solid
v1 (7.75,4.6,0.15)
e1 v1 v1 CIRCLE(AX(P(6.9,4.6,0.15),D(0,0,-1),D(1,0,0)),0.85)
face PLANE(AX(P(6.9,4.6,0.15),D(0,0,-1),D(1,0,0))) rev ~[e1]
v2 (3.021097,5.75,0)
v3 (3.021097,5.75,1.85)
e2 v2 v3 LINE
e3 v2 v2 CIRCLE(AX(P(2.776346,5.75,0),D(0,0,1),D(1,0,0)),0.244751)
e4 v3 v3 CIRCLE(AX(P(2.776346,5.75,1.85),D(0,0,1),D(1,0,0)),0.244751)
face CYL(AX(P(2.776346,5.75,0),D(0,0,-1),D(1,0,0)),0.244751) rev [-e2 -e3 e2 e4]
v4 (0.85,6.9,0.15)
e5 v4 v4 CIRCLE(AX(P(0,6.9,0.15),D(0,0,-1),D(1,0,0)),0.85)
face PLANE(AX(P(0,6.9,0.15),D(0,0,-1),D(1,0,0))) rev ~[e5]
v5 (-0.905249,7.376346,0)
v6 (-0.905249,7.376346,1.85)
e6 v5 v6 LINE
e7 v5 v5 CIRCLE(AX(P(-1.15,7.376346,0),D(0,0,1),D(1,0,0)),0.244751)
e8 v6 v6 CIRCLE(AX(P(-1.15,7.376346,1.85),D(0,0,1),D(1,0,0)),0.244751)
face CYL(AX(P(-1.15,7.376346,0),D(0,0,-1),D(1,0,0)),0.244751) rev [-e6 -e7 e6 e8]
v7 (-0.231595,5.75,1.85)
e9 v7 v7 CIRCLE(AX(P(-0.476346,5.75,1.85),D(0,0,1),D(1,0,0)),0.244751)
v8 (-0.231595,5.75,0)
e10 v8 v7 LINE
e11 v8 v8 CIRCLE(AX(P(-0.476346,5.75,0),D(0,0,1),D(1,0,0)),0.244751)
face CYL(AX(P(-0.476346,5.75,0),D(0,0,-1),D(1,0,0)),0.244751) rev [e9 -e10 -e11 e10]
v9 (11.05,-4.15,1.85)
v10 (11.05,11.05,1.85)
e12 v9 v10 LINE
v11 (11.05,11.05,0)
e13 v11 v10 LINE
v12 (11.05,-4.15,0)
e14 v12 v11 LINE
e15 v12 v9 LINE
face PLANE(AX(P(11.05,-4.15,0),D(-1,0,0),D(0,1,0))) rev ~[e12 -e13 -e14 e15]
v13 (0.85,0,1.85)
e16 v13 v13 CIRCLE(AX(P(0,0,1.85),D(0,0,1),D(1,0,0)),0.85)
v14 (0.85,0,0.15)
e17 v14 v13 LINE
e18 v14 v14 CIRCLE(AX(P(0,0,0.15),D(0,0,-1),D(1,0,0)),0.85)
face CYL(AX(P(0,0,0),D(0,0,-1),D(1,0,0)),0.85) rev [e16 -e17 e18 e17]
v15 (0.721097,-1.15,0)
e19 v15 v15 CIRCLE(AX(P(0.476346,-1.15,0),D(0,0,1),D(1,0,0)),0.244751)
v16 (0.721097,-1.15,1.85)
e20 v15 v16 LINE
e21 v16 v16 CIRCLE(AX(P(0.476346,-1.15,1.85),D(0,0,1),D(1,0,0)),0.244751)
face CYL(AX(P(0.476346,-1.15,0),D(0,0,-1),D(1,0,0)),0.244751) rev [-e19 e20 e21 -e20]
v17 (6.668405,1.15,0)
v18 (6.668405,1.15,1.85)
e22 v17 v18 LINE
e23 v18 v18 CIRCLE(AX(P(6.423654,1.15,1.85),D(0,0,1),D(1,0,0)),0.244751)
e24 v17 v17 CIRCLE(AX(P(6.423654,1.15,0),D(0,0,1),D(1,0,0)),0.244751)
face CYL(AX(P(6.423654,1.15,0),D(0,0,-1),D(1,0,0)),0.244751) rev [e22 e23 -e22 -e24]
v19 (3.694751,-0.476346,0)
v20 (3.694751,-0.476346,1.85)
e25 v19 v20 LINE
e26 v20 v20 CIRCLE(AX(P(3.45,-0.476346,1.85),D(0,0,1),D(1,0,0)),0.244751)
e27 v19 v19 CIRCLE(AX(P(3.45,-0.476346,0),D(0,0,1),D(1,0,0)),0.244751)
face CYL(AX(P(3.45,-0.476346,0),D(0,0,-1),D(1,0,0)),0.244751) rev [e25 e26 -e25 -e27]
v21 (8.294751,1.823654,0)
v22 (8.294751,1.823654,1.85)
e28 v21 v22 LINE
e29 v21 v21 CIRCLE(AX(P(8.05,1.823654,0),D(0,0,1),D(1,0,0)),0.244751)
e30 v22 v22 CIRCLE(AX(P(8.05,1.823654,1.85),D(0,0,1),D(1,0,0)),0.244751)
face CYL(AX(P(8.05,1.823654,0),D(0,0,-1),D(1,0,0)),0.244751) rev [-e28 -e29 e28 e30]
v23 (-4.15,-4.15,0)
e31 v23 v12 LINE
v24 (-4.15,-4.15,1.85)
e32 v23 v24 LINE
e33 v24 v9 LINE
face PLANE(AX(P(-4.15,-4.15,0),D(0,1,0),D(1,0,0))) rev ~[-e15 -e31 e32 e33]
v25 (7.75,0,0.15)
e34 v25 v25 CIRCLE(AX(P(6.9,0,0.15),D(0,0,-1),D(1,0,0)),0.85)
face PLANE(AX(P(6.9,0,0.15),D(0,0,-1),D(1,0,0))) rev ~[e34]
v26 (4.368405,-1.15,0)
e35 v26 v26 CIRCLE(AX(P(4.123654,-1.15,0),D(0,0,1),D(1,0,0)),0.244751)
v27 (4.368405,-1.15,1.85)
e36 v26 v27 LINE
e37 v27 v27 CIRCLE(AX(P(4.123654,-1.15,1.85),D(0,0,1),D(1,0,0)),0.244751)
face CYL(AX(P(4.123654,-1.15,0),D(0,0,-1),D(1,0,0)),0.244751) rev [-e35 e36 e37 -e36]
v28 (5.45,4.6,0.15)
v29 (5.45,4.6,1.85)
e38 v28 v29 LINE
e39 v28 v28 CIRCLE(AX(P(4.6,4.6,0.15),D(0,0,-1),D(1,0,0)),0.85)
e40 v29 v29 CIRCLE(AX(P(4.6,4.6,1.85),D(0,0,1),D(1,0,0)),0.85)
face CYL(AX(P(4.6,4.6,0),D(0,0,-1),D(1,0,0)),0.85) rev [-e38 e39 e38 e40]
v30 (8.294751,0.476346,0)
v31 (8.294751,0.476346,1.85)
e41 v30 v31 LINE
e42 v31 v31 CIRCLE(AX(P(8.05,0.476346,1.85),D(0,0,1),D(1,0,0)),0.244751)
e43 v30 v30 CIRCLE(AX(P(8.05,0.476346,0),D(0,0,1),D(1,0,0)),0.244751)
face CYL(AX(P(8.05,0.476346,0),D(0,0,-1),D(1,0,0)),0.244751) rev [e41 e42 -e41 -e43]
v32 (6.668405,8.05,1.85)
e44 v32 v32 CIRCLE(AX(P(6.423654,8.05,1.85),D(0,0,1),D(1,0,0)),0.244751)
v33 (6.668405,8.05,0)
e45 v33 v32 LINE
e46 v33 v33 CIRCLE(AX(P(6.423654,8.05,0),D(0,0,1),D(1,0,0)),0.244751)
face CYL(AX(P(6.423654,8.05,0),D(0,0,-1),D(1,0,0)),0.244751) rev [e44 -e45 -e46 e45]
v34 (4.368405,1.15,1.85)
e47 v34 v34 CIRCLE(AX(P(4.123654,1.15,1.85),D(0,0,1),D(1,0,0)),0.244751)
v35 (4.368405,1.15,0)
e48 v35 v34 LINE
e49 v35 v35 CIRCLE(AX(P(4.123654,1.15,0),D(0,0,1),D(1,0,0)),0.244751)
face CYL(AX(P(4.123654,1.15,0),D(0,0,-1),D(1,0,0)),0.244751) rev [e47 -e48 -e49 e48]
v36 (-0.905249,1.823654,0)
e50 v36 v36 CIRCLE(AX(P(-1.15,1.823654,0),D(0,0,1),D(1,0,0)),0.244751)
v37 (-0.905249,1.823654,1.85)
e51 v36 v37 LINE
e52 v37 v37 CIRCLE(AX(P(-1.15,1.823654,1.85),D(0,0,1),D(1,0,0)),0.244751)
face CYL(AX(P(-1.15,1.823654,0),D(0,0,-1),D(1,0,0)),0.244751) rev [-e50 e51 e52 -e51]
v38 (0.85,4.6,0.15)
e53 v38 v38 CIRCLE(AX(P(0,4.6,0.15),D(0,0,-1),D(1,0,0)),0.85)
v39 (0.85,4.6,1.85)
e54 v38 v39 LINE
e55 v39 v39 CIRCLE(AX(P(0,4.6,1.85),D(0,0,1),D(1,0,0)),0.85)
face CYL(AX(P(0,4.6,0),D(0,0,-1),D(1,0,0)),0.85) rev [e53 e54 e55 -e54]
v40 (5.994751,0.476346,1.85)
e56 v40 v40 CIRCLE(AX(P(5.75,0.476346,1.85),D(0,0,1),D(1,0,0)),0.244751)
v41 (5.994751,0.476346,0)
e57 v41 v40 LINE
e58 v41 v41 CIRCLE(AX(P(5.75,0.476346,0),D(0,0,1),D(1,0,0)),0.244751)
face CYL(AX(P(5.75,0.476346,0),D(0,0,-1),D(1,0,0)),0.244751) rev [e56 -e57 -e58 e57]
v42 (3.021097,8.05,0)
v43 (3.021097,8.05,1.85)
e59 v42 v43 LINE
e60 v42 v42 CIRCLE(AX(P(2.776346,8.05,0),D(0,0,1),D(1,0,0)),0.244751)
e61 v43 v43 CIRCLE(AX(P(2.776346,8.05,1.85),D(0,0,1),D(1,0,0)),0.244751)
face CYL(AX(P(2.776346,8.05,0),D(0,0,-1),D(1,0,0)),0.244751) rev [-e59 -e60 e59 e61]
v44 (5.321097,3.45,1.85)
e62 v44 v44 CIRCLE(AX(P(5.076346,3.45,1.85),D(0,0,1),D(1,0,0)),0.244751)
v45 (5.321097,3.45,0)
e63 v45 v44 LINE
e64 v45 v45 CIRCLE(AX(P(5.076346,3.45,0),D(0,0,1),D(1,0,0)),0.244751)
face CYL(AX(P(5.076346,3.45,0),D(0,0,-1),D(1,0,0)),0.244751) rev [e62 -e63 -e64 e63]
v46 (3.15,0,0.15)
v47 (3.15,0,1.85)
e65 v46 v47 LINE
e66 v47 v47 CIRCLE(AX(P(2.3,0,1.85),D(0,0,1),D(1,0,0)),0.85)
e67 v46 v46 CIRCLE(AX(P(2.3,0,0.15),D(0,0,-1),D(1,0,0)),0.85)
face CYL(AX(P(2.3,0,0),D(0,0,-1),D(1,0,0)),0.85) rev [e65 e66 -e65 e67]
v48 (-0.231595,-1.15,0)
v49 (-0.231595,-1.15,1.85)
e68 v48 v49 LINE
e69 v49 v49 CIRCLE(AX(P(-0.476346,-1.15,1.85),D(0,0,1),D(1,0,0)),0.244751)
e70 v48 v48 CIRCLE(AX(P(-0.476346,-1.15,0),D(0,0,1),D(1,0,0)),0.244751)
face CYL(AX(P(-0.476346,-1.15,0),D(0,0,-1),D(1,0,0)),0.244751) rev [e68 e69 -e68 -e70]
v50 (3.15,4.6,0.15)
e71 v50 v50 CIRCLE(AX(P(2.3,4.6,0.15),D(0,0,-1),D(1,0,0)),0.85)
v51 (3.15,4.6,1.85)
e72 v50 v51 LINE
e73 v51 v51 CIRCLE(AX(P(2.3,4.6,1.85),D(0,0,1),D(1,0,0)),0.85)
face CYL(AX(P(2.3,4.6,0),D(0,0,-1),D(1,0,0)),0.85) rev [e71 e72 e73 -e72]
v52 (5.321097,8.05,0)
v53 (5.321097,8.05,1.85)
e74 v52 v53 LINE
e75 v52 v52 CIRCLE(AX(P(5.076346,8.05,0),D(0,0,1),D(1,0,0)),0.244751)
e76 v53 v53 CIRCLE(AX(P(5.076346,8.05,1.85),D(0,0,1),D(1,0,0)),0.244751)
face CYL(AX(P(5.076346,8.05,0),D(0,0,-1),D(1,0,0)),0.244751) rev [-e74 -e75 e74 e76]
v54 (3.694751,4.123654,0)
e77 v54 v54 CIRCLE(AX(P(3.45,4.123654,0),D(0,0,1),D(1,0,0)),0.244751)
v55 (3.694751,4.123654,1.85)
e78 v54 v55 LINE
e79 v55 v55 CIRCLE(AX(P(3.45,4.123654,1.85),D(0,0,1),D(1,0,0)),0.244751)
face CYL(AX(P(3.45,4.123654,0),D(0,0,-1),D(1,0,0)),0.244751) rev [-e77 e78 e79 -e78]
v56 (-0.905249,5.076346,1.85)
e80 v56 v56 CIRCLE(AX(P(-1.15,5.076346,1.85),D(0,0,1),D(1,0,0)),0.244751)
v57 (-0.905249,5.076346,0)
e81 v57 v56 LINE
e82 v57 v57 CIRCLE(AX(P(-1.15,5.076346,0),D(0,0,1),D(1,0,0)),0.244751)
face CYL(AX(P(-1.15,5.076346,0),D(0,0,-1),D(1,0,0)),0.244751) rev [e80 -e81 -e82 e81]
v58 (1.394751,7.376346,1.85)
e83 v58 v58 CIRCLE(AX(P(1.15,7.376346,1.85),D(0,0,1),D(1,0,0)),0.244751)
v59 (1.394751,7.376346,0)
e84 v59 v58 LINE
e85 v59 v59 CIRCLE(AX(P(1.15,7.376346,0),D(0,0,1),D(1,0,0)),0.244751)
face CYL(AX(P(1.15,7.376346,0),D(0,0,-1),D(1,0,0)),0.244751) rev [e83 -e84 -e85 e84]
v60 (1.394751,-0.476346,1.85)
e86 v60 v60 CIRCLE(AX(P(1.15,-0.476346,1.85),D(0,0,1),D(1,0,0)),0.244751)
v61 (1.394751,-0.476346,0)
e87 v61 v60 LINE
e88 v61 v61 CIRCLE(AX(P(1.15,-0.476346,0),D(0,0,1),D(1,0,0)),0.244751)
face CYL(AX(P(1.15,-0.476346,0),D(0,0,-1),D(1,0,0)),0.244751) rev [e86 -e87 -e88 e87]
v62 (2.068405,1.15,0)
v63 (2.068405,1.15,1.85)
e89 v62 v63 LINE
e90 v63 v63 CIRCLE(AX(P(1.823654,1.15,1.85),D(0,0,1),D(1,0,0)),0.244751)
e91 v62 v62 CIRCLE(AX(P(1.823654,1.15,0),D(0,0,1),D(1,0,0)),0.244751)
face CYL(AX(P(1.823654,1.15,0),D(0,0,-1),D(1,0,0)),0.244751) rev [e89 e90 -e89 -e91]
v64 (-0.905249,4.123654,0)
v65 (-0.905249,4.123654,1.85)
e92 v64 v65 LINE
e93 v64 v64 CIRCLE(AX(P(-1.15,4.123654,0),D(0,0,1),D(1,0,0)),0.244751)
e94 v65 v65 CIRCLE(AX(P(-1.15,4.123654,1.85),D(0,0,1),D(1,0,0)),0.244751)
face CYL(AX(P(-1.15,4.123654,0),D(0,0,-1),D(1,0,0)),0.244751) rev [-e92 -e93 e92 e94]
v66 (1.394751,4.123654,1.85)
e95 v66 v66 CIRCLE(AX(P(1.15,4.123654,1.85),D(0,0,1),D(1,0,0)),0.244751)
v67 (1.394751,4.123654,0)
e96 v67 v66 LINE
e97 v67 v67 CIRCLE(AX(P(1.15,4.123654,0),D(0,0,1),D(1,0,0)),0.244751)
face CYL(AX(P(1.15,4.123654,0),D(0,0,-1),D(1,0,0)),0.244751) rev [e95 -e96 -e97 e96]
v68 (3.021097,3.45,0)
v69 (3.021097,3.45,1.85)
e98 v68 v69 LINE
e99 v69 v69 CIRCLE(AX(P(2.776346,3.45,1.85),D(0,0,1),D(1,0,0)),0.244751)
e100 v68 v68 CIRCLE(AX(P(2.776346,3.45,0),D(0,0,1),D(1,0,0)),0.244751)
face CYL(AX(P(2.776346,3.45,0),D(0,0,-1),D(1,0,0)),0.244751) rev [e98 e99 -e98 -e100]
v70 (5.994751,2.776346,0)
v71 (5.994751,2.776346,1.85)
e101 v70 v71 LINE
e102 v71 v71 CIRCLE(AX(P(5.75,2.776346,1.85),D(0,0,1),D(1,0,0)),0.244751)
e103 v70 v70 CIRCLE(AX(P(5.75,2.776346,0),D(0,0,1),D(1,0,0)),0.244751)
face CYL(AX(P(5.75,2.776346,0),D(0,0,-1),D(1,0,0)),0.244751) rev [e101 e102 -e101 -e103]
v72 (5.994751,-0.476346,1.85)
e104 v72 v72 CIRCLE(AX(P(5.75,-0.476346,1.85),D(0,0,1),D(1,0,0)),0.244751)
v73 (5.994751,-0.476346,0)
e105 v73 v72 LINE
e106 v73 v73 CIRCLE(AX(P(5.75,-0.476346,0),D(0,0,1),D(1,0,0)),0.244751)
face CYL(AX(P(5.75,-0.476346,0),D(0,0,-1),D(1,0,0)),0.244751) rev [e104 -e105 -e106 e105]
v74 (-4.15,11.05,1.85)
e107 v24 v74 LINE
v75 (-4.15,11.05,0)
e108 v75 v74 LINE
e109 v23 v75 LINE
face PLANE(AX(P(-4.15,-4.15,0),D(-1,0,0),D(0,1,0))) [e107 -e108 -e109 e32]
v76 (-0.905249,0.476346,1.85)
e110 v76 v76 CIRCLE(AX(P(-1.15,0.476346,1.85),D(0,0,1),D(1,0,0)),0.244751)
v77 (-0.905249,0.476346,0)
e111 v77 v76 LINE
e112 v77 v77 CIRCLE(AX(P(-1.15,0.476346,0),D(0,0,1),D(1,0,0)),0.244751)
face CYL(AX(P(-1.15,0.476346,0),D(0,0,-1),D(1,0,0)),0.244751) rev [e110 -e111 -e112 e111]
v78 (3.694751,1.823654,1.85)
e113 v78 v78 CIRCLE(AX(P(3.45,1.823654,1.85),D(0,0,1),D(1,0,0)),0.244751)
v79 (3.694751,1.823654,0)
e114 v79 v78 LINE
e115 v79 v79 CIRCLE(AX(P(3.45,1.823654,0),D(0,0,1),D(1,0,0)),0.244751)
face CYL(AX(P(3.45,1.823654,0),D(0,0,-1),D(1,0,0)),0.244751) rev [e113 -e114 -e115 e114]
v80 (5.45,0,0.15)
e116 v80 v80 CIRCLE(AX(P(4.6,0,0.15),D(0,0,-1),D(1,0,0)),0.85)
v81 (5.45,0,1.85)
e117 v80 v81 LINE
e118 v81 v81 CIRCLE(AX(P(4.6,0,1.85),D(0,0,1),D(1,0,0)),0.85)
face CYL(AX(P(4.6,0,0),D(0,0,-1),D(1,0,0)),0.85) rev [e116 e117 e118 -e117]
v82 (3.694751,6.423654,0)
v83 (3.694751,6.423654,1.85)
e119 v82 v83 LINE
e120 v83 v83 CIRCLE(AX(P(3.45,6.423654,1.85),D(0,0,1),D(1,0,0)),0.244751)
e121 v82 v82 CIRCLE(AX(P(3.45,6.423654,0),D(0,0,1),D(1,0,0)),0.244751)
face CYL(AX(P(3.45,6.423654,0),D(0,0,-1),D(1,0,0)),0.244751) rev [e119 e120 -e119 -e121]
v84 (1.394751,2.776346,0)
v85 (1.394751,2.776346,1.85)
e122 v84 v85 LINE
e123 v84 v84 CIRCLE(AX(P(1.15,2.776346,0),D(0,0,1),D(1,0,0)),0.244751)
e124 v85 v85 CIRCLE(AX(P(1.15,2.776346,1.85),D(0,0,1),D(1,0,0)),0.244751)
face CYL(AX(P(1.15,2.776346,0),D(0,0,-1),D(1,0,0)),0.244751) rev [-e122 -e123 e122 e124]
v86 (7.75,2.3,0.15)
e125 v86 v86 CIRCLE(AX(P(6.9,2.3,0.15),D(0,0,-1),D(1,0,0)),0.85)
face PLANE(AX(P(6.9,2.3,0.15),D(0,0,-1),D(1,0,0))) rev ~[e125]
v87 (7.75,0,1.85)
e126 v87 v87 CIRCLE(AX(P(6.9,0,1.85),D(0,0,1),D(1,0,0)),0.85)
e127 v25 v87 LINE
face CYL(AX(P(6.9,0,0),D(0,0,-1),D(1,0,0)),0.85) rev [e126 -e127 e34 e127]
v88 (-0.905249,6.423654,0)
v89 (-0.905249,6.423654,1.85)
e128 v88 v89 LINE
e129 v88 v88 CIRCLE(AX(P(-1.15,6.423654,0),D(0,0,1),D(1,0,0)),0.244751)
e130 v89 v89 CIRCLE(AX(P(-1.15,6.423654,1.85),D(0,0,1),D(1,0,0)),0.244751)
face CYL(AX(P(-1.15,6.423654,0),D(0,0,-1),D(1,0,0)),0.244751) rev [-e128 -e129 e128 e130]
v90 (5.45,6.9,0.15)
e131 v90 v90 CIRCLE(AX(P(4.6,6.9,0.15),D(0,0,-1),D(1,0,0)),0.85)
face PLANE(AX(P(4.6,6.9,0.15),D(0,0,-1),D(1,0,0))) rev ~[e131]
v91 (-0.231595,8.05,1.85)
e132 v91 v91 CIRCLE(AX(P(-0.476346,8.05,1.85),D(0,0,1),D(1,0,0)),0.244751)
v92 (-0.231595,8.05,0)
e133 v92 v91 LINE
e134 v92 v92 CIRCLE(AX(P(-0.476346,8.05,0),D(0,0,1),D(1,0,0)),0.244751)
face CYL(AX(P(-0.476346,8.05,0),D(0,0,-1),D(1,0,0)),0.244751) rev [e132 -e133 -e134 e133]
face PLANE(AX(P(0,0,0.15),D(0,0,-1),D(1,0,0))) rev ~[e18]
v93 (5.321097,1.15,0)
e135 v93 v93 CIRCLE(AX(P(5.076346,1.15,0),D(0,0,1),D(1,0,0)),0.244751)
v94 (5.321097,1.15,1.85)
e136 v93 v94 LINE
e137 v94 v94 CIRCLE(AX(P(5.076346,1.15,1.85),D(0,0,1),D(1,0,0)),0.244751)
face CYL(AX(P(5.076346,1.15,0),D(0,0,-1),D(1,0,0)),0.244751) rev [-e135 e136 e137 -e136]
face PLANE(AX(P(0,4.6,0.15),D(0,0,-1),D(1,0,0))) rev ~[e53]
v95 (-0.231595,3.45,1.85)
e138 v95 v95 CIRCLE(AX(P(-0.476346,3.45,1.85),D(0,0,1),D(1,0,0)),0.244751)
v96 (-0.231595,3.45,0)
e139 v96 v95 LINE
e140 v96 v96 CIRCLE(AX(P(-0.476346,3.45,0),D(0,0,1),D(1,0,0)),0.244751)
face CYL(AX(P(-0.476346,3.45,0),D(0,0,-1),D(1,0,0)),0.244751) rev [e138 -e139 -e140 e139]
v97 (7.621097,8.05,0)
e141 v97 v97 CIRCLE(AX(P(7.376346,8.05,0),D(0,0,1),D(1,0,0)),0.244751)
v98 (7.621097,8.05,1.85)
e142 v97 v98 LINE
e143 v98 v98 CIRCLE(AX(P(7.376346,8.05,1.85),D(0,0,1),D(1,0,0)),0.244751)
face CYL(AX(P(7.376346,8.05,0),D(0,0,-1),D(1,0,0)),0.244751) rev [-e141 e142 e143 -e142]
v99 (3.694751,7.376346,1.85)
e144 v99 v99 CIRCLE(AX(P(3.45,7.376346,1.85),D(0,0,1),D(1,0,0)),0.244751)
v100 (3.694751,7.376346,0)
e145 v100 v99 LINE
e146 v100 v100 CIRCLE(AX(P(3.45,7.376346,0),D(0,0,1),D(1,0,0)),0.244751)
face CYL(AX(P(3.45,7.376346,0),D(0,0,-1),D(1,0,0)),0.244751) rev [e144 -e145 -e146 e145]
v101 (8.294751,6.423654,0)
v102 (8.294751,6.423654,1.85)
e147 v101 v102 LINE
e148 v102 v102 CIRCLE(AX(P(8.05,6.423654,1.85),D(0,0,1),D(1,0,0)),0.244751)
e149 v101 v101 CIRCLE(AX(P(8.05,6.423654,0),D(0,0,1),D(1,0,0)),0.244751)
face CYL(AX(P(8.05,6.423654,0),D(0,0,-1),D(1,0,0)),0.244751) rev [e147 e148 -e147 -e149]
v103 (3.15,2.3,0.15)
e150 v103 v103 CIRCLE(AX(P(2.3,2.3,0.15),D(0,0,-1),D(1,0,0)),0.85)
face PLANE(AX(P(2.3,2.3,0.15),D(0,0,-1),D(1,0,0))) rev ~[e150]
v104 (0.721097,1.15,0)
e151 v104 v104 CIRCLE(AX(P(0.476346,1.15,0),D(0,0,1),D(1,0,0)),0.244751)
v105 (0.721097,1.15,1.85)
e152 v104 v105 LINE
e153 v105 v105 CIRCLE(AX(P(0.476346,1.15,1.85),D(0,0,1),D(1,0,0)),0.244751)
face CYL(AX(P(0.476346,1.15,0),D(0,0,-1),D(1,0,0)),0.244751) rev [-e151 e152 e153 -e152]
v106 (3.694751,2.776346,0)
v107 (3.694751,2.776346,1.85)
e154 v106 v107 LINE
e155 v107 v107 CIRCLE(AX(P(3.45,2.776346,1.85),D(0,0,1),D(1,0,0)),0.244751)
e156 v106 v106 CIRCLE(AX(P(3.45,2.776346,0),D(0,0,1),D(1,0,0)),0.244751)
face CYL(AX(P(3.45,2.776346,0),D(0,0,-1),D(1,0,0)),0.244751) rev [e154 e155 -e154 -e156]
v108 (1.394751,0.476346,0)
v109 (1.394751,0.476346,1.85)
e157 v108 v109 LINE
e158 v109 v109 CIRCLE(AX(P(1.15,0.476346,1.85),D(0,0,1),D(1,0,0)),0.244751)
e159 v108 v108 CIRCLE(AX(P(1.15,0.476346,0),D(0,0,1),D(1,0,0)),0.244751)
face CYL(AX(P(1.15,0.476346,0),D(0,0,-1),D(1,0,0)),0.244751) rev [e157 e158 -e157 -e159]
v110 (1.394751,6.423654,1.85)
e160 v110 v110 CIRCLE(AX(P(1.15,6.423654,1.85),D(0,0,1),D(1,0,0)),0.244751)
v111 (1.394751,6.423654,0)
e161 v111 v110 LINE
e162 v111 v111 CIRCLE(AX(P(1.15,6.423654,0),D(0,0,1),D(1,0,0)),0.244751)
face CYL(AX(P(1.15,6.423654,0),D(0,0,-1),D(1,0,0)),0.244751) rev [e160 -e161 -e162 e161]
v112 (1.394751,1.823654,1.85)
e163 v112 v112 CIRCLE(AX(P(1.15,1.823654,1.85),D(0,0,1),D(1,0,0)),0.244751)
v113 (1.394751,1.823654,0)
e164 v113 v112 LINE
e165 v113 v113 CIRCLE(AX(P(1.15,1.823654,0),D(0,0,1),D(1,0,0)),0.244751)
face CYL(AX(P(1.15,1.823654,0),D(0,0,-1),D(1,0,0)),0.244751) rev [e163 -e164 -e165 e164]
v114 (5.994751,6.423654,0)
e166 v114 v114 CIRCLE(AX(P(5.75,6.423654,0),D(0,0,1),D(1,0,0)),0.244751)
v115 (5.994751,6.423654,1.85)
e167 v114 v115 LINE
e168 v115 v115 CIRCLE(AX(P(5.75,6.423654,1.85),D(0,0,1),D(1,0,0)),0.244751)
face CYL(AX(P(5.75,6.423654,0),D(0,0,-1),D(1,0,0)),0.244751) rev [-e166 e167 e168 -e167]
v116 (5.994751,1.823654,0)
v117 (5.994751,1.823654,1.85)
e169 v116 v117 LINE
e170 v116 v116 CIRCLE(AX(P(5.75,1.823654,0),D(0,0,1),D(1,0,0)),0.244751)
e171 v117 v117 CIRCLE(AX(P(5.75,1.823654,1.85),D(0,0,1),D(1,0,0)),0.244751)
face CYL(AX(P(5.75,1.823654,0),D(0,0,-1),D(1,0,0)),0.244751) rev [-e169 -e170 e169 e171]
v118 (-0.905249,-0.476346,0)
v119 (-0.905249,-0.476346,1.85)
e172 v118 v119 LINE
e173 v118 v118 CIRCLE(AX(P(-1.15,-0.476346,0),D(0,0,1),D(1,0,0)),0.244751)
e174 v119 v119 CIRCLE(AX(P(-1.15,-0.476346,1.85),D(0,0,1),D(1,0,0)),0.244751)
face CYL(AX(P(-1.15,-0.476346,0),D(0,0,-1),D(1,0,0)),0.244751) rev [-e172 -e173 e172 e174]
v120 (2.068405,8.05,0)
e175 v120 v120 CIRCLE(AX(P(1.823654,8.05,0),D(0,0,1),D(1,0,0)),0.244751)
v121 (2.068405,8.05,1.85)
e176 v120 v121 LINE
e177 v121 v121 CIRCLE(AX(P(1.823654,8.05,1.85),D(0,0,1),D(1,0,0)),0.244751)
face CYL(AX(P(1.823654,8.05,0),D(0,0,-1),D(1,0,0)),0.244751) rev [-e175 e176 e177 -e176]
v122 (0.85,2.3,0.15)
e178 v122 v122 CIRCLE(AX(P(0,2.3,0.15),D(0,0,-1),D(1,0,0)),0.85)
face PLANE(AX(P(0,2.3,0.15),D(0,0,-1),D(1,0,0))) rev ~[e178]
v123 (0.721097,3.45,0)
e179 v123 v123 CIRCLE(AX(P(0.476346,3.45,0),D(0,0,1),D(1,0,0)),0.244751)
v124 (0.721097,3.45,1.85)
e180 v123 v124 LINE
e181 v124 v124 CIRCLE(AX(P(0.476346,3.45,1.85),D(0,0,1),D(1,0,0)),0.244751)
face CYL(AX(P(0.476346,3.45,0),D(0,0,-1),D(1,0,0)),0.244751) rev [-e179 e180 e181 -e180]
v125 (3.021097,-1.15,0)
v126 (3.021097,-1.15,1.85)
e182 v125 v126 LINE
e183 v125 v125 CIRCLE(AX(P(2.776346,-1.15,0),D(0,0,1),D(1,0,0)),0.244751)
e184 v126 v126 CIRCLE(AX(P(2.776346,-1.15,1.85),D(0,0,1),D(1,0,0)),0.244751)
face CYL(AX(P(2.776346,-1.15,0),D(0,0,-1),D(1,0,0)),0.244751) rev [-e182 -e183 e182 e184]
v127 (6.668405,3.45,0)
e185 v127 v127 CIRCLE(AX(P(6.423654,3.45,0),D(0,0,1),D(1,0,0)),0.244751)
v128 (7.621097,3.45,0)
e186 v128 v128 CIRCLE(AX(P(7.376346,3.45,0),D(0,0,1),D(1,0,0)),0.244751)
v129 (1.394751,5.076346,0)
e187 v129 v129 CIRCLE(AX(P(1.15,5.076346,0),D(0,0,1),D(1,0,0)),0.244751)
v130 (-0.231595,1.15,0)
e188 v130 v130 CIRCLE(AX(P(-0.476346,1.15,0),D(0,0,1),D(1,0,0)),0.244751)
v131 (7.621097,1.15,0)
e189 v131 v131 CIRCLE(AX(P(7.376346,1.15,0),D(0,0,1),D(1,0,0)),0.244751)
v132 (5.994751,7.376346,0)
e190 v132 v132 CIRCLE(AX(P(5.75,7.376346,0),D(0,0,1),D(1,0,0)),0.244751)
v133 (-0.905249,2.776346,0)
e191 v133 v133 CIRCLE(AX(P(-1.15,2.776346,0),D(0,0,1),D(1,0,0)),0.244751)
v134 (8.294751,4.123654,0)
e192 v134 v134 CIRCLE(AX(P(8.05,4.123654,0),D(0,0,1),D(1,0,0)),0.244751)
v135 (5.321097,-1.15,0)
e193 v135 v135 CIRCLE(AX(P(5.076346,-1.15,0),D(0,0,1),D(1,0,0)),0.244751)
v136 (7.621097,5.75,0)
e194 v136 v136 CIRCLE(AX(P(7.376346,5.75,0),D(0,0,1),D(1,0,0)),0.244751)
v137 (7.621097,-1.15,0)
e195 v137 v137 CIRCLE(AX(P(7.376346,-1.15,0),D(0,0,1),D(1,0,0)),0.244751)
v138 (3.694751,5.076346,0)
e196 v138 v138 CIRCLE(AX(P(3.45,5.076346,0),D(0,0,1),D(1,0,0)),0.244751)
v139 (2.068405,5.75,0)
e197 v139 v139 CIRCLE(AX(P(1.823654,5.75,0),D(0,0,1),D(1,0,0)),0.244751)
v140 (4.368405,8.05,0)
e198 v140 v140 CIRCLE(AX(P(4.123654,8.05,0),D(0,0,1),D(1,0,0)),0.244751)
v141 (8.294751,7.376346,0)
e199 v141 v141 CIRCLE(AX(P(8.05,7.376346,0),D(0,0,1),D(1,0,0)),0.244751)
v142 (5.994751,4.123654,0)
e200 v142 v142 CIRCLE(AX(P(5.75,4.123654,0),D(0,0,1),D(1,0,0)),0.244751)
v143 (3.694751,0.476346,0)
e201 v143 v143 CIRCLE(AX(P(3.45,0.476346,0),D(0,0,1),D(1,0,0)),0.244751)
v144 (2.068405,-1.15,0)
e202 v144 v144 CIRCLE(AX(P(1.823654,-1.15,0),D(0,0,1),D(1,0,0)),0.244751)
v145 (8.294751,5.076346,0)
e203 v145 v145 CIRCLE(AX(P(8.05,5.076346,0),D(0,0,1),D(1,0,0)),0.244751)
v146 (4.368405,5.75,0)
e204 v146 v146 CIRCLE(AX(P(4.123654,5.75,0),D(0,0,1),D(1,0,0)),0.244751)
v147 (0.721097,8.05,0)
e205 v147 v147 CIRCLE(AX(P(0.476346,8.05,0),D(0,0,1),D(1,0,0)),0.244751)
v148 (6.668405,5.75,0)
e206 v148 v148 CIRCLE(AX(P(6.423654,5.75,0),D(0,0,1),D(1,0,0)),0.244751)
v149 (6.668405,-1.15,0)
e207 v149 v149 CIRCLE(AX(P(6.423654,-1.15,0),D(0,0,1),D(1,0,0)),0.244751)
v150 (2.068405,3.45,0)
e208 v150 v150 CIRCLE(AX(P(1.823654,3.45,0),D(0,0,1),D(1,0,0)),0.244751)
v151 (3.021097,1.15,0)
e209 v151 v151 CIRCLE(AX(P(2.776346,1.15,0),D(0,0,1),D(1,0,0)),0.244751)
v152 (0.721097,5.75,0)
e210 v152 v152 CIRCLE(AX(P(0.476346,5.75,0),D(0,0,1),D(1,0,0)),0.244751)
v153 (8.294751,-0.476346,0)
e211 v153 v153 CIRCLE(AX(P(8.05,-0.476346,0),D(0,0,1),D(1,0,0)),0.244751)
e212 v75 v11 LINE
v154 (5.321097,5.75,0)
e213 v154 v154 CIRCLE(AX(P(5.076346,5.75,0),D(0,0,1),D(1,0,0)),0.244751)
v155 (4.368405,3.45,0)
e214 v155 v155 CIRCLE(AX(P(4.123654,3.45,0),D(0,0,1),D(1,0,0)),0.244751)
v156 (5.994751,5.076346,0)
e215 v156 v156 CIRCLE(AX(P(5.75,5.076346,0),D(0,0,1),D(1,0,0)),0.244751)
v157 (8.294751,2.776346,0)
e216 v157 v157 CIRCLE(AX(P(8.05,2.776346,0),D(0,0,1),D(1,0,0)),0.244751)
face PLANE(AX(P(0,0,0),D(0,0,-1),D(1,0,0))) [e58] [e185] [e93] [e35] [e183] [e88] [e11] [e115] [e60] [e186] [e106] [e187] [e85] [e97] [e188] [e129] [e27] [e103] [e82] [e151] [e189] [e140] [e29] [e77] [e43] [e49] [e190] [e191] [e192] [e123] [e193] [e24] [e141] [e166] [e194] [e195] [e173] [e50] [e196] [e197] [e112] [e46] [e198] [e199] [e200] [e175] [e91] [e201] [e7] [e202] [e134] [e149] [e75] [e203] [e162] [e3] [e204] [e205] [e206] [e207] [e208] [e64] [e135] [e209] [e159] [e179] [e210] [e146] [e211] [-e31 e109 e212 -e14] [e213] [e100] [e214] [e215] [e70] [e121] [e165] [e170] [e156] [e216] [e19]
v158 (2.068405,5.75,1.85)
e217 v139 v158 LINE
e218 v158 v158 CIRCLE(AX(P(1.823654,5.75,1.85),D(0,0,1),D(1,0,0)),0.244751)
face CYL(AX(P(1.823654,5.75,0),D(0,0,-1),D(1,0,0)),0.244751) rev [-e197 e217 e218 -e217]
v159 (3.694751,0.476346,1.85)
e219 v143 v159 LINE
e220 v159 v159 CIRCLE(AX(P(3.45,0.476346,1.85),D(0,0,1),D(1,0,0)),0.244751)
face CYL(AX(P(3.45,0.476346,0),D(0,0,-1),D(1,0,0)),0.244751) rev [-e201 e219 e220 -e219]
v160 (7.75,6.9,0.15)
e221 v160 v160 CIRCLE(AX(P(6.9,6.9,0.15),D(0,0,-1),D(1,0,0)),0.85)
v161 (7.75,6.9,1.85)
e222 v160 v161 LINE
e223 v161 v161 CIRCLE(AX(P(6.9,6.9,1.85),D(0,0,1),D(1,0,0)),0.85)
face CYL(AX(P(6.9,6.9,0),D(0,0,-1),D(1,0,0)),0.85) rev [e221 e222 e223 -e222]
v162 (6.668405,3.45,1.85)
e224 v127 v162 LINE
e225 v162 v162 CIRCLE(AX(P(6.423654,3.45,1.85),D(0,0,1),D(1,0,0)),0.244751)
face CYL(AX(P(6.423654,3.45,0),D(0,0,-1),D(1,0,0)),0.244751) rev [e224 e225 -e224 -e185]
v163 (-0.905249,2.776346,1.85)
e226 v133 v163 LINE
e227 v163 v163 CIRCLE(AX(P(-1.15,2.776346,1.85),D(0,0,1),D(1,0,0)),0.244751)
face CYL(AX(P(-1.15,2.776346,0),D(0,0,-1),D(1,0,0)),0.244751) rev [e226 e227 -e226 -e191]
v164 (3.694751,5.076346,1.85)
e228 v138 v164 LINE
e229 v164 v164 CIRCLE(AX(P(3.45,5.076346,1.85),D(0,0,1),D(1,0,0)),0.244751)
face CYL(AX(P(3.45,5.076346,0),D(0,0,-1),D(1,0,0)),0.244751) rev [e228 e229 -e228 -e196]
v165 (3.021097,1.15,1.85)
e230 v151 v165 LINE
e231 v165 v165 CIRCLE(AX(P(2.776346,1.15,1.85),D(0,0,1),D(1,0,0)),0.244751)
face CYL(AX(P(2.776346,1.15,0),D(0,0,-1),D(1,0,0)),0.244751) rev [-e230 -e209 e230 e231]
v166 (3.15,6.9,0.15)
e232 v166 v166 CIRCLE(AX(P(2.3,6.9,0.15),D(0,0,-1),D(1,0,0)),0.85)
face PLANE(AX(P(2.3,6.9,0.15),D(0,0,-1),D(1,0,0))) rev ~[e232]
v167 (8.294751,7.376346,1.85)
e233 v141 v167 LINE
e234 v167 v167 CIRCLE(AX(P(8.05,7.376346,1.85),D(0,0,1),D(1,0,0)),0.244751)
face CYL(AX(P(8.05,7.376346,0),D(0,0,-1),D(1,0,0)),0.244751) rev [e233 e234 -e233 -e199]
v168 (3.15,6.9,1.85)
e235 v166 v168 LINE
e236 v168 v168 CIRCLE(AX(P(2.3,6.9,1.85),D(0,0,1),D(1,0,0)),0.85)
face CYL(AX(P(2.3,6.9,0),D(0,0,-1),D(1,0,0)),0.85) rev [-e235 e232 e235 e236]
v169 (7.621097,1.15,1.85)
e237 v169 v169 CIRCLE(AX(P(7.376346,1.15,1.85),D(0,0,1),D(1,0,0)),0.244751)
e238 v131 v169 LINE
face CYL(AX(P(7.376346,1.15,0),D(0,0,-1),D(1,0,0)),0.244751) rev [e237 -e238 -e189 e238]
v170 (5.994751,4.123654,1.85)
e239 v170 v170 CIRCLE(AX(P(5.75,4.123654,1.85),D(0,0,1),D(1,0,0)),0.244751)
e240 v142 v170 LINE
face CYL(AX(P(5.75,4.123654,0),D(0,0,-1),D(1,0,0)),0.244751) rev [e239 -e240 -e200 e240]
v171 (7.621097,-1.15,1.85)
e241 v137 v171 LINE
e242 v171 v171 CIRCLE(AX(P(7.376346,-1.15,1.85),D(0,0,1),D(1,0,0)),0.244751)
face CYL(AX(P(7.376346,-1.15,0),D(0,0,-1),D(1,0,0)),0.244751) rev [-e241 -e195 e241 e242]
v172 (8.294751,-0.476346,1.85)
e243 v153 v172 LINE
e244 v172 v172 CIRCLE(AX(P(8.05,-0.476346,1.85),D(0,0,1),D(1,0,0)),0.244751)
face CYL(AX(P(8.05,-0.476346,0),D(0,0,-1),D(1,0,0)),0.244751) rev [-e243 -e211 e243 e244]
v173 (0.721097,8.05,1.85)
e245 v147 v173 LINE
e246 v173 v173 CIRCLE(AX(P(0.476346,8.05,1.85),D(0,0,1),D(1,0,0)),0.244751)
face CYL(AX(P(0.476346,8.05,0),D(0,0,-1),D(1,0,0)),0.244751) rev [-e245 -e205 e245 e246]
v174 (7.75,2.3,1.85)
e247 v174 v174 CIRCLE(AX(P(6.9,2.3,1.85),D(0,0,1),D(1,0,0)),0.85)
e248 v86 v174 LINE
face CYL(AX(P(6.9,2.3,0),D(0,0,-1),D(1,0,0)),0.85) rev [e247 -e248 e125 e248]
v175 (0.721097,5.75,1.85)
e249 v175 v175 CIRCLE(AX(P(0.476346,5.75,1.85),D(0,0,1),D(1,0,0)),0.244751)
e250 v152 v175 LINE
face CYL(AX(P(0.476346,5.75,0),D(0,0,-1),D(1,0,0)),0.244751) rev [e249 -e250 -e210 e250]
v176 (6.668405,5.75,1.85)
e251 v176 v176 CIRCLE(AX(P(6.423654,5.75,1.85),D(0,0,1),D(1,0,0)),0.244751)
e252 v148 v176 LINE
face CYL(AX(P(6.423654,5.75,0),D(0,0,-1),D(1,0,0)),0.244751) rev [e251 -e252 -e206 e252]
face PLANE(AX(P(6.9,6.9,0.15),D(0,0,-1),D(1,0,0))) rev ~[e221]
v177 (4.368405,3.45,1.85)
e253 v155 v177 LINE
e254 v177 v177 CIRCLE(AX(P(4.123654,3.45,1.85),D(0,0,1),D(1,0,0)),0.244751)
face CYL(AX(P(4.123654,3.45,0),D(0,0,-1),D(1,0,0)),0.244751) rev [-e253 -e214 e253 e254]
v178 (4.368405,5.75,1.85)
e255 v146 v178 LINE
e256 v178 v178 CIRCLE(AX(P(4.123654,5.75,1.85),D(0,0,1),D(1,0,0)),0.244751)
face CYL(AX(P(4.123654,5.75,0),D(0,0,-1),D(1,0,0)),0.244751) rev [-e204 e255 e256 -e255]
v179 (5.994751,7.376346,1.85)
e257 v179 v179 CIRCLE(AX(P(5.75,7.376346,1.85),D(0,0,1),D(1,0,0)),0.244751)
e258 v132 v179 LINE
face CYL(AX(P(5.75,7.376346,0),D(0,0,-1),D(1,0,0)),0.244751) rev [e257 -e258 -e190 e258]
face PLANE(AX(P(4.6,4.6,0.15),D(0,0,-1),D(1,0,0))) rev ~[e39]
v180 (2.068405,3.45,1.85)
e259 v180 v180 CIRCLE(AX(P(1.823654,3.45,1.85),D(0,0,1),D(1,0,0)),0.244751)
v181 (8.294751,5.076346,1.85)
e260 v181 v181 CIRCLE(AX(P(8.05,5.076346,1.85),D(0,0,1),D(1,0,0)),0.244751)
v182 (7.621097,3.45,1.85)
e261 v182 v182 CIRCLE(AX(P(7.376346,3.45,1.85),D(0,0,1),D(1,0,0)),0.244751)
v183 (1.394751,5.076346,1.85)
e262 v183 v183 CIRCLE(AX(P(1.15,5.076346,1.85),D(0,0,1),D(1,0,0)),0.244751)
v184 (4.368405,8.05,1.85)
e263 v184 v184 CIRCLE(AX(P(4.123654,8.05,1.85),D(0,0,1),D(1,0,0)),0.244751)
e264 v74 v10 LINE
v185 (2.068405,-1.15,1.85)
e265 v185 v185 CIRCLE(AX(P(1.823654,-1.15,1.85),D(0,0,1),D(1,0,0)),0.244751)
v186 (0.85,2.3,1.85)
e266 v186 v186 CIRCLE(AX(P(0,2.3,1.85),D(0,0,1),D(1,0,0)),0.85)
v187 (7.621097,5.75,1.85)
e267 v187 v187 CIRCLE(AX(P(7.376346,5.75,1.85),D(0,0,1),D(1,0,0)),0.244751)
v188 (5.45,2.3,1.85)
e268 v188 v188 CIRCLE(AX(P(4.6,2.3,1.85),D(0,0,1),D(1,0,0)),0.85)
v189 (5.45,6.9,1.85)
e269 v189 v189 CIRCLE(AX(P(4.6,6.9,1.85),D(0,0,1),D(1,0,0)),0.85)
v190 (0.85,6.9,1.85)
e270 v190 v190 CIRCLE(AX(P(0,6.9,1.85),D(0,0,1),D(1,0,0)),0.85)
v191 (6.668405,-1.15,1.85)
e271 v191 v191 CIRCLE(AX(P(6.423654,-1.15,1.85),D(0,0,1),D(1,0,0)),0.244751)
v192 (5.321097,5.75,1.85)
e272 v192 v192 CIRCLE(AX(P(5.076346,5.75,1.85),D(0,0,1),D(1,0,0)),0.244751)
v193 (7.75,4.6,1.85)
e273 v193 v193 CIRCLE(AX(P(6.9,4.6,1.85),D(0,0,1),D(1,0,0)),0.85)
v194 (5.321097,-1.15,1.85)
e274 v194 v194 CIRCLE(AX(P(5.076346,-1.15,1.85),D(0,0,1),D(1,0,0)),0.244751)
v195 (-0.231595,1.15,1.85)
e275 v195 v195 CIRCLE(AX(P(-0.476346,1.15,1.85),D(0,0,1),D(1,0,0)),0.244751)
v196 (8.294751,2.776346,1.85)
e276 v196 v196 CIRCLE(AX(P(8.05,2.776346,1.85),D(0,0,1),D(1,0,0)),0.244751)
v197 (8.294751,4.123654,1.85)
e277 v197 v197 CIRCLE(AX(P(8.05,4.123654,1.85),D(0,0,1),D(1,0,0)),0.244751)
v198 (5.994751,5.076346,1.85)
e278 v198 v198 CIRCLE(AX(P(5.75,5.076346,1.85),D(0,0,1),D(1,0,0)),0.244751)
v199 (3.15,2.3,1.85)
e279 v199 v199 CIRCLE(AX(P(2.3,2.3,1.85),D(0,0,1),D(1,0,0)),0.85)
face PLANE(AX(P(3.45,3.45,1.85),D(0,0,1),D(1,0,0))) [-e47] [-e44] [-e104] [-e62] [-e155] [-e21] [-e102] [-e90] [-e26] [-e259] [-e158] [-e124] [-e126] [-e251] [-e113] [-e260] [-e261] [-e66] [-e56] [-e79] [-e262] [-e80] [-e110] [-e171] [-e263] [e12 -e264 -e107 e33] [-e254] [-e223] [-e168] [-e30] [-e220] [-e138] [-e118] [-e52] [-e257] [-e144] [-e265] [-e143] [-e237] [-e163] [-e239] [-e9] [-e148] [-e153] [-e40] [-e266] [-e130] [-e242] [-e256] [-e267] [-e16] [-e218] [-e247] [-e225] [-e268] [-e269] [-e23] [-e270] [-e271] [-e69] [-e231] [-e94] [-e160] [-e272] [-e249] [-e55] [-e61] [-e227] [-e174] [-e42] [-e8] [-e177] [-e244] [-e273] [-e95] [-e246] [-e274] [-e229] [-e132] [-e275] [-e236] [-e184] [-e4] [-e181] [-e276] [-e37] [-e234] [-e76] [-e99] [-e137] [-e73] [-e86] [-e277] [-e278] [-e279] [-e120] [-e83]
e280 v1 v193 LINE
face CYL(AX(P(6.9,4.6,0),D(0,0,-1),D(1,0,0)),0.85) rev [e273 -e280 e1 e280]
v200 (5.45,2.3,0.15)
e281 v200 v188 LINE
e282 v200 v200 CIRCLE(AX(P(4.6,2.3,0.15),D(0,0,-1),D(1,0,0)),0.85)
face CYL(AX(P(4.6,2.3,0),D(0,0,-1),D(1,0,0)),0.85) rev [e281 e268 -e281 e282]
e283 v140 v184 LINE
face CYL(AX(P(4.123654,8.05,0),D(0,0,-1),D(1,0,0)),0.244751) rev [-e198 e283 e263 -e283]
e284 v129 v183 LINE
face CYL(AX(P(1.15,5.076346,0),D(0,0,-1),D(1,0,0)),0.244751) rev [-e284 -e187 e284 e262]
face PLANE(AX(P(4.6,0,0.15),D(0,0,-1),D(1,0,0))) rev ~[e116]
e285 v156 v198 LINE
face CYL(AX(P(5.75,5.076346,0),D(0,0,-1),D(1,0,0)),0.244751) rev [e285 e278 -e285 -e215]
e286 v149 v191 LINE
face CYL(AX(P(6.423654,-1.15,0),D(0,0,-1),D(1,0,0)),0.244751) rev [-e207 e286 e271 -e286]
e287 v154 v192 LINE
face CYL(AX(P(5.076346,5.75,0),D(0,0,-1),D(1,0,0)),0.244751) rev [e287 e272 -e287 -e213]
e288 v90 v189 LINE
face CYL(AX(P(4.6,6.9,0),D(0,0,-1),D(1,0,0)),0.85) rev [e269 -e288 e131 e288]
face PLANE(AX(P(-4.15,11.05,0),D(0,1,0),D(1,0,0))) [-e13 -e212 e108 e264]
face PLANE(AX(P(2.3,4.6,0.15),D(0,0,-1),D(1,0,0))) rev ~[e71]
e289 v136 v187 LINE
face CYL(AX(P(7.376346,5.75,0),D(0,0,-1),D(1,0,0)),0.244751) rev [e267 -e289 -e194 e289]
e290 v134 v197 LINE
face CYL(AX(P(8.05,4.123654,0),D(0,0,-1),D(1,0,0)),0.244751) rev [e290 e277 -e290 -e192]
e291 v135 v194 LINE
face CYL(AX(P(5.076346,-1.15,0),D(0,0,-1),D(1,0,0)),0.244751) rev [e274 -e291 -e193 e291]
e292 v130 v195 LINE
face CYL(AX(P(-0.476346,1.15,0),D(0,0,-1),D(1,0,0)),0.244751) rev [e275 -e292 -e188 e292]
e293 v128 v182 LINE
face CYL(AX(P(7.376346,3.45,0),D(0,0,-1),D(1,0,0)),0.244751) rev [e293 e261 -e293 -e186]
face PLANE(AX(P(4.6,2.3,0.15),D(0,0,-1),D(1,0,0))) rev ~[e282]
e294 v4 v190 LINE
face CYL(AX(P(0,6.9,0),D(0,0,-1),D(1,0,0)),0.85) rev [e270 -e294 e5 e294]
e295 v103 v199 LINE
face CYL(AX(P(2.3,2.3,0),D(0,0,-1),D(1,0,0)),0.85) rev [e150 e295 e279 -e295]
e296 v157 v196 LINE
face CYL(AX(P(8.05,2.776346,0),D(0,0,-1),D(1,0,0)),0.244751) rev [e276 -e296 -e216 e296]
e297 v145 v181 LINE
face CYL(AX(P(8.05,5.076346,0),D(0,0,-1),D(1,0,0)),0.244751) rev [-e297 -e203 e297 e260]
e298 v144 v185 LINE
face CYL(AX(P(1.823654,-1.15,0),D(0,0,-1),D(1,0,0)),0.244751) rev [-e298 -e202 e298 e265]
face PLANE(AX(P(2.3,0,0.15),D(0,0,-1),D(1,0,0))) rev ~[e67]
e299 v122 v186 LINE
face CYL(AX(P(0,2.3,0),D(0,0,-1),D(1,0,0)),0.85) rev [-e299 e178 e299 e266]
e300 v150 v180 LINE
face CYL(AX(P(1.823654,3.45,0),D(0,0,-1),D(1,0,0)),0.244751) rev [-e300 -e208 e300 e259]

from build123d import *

# Parameters (mm, degrees)
F0_W     = 15.2
F0_H     = 15.2
F0_R     = 0.244751
F0_R_2   = 0.85
F1_DEPTH = 1.85
F2_R     = 0.85
F3_DEPTH = 0.15


with BuildPart() as f1:
    # F0 (on Top) → F1 (new body)
    with BuildSketch(Plane.XY):
        with Locations((3.45, 3.45)):
            Rectangle(F0_W, F0_H)
        with Locations((-0.476346, -1.15)):
            Circle(F0_R, mode=Mode.SUBTRACT)
        with Locations((-1.15, -0.476346)):
            Circle(F0_R, mode=Mode.SUBTRACT)
        with Locations((0.476346, -1.15)):
            Circle(F0_R, mode=Mode.SUBTRACT)
        with Locations((1.15, -0.476346)):
            Circle(F0_R, mode=Mode.SUBTRACT)
        with Locations((1.823654, -1.15)):
            Circle(F0_R, mode=Mode.SUBTRACT)
        with Locations((2.776346, -1.15)):
            Circle(F0_R, mode=Mode.SUBTRACT)
        with Locations((-1.15, 0.476346)):
            Circle(F0_R, mode=Mode.SUBTRACT)
        with Locations((-0.476346, 1.15)):
            Circle(F0_R, mode=Mode.SUBTRACT)
        with Locations((-1.15, 1.823654)):
            Circle(F0_R, mode=Mode.SUBTRACT)
        with Locations((-1.15, 2.776346)):
            Circle(F0_R, mode=Mode.SUBTRACT)
        Circle(F0_R_2, mode=Mode.SUBTRACT)
        with Locations((1.15, 0.476346)):
            Circle(F0_R, mode=Mode.SUBTRACT)
        with Locations((0.476346, 1.15)):
            Circle(F0_R, mode=Mode.SUBTRACT)
        with Locations((2.3, 0)):
            Circle(F0_R_2, mode=Mode.SUBTRACT)
        with Locations((1.823654, 1.15)):
            Circle(F0_R, mode=Mode.SUBTRACT)
        with Locations((2.776346, 1.15)):
            Circle(F0_R, mode=Mode.SUBTRACT)
        with Locations((0, 2.3)):
            Circle(F0_R_2, mode=Mode.SUBTRACT)
        with Locations((1.15, 1.823654)):
            Circle(F0_R, mode=Mode.SUBTRACT)
        with Locations((1.15, 2.776346)):
            Circle(F0_R, mode=Mode.SUBTRACT)
        with Locations((2.3, 2.3)):
            Circle(F0_R_2, mode=Mode.SUBTRACT)
        with Locations((4.123654, -1.15)):
            Circle(F0_R, mode=Mode.SUBTRACT)
        with Locations((3.45, -0.476346)):
            Circle(F0_R, mode=Mode.SUBTRACT)
        with Locations((5.076346, -1.15)):
            Circle(F0_R, mode=Mode.SUBTRACT)
        with Locations((5.75, -0.476346)):
            Circle(F0_R, mode=Mode.SUBTRACT)
        with Locations((6.423654, -1.15)):
            Circle(F0_R, mode=Mode.SUBTRACT)
        with Locations((7.376346, -1.15)):
            Circle(F0_R, mode=Mode.SUBTRACT)
        with Locations((8.05, -0.476346)):
            Circle(F0_R, mode=Mode.SUBTRACT)
        with Locations((3.45, 0.476346)):
            Circle(F0_R, mode=Mode.SUBTRACT)
        with Locations((4.6, 0)):
            Circle(F0_R_2, mode=Mode.SUBTRACT)
        with Locations((4.123654, 1.15)):
            Circle(F0_R, mode=Mode.SUBTRACT)
        with Locations((5.076346, 1.15)):
            Circle(F0_R, mode=Mode.SUBTRACT)
        with Locations((5.75, 0.476346)):
            Circle(F0_R, mode=Mode.SUBTRACT)
        with Locations((6.9, 0)):
            Circle(F0_R_2, mode=Mode.SUBTRACT)
        with Locations((6.423654, 1.15)):
            Circle(F0_R, mode=Mode.SUBTRACT)
        with Locations((3.45, 1.823654)):
            Circle(F0_R, mode=Mode.SUBTRACT)
        with Locations((4.6, 2.3)):
            Circle(F0_R_2, mode=Mode.SUBTRACT)
        with Locations((3.45, 2.776346)):
            Circle(F0_R, mode=Mode.SUBTRACT)
        with Locations((5.75, 1.823654)):
            Circle(F0_R, mode=Mode.SUBTRACT)
        with Locations((6.9, 2.3)):
            Circle(F0_R_2, mode=Mode.SUBTRACT)
        with Locations((5.75, 2.776346)):
            Circle(F0_R, mode=Mode.SUBTRACT)
        with Locations((8.05, 0.476346)):
            Circle(F0_R, mode=Mode.SUBTRACT)
        with Locations((7.376346, 1.15)):
            Circle(F0_R, mode=Mode.SUBTRACT)
        with Locations((8.05, 1.823654)):
            Circle(F0_R, mode=Mode.SUBTRACT)
        with Locations((8.05, 2.776346)):
            Circle(F0_R, mode=Mode.SUBTRACT)
        with Locations((-0.476346, 3.45)):
            Circle(F0_R, mode=Mode.SUBTRACT)
        with Locations((-1.15, 4.123654)):
            Circle(F0_R, mode=Mode.SUBTRACT)
        with Locations((-1.15, 5.076346)):
            Circle(F0_R, mode=Mode.SUBTRACT)
        with Locations((-0.476346, 5.75)):
            Circle(F0_R, mode=Mode.SUBTRACT)
        with Locations((-1.15, 6.423654)):
            Circle(F0_R, mode=Mode.SUBTRACT)
        with Locations((0.476346, 3.45)):
            Circle(F0_R, mode=Mode.SUBTRACT)
        with Locations((1.15, 4.123654)):
            Circle(F0_R, mode=Mode.SUBTRACT)
        with Locations((0, 4.6)):
            Circle(F0_R_2, mode=Mode.SUBTRACT)
        with Locations((1.15, 5.076346)):
            Circle(F0_R, mode=Mode.SUBTRACT)
        with Locations((1.823654, 3.45)):
            Circle(F0_R, mode=Mode.SUBTRACT)
        with Locations((2.776346, 3.45)):
            Circle(F0_R, mode=Mode.SUBTRACT)
        with Locations((2.3, 4.6)):
            Circle(F0_R_2, mode=Mode.SUBTRACT)
        with Locations((0.476346, 5.75)):
            Circle(F0_R, mode=Mode.SUBTRACT)
        with Locations((0, 6.9)):
            Circle(F0_R_2, mode=Mode.SUBTRACT)
        with Locations((1.15, 6.423654)):
            Circle(F0_R, mode=Mode.SUBTRACT)
        with Locations((1.823654, 5.75)):
            Circle(F0_R, mode=Mode.SUBTRACT)
        with Locations((2.776346, 5.75)):
            Circle(F0_R, mode=Mode.SUBTRACT)
        with Locations((2.3, 6.9)):
            Circle(F0_R_2, mode=Mode.SUBTRACT)
        with Locations((-1.15, 7.376346)):
            Circle(F0_R, mode=Mode.SUBTRACT)
        with Locations((-0.476346, 8.05)):
            Circle(F0_R, mode=Mode.SUBTRACT)
        with Locations((0.476346, 8.05)):
            Circle(F0_R, mode=Mode.SUBTRACT)
        with Locations((1.15, 7.376346)):
            Circle(F0_R, mode=Mode.SUBTRACT)
        with Locations((1.823654, 8.05)):
            Circle(F0_R, mode=Mode.SUBTRACT)
        with Locations((2.776346, 8.05)):
            Circle(F0_R, mode=Mode.SUBTRACT)
        with Locations((4.123654, 3.45)):
            Circle(F0_R, mode=Mode.SUBTRACT)
        with Locations((3.45, 4.123654)):
            Circle(F0_R, mode=Mode.SUBTRACT)
        with Locations((5.076346, 3.45)):
            Circle(F0_R, mode=Mode.SUBTRACT)
        with Locations((3.45, 5.076346)):
            Circle(F0_R, mode=Mode.SUBTRACT)
        with Locations((4.6, 4.6)):
            Circle(F0_R_2, mode=Mode.SUBTRACT)
        with Locations((5.75, 4.123654)):
            Circle(F0_R, mode=Mode.SUBTRACT)
        with Locations((6.423654, 3.45)):
            Circle(F0_R, mode=Mode.SUBTRACT)
        with Locations((5.75, 5.076346)):
            Circle(F0_R, mode=Mode.SUBTRACT)
        with Locations((6.9, 4.6)):
            Circle(F0_R_2, mode=Mode.SUBTRACT)
        with Locations((4.123654, 5.75)):
            Circle(F0_R, mode=Mode.SUBTRACT)
        with Locations((5.076346, 5.75)):
            Circle(F0_R, mode=Mode.SUBTRACT)
        with Locations((3.45, 6.423654)):
            Circle(F0_R, mode=Mode.SUBTRACT)
        with Locations((4.6, 6.9)):
            Circle(F0_R_2, mode=Mode.SUBTRACT)
        with Locations((6.423654, 5.75)):
            Circle(F0_R, mode=Mode.SUBTRACT)
        with Locations((5.75, 6.423654)):
            Circle(F0_R, mode=Mode.SUBTRACT)
        with Locations((6.9, 6.9)):
            Circle(F0_R_2, mode=Mode.SUBTRACT)
        with Locations((7.376346, 3.45)):
            Circle(F0_R, mode=Mode.SUBTRACT)
        with Locations((8.05, 4.123654)):
            Circle(F0_R, mode=Mode.SUBTRACT)
        with Locations((8.05, 5.076346)):
            Circle(F0_R, mode=Mode.SUBTRACT)
        with Locations((7.376346, 5.75)):
            Circle(F0_R, mode=Mode.SUBTRACT)
        with Locations((8.05, 6.423654)):
            Circle(F0_R, mode=Mode.SUBTRACT)
        with Locations((3.45, 7.376346)):
            Circle(F0_R, mode=Mode.SUBTRACT)
        with Locations((4.123654, 8.05)):
            Circle(F0_R, mode=Mode.SUBTRACT)
        with Locations((5.076346, 8.05)):
            Circle(F0_R, mode=Mode.SUBTRACT)
        with Locations((5.75, 7.376346)):
            Circle(F0_R, mode=Mode.SUBTRACT)
        with Locations((6.423654, 8.05)):
            Circle(F0_R, mode=Mode.SUBTRACT)
        with Locations((8.05, 7.376346)):
            Circle(F0_R, mode=Mode.SUBTRACT)
        with Locations((7.376346, 8.05)):
            Circle(F0_R, mode=Mode.SUBTRACT)
    extrude(amount=F1_DEPTH)

    # F2 (on face) → F3 (join)
    with BuildSketch(Plane(origin=(0, 0, 0), x_dir=(1, 0, 0), z_dir=(0, 0, -1))):
        Circle(F2_R)
        with Locations((2.3, 0)):
            Circle(F2_R)
        with Locations((4.6, 0)):
            Circle(F2_R)
        with Locations((6.9, 0)):
            Circle(F2_R)
        with Locations((0, -2.3)):
            Circle(F2_R)
        with Locations((2.3, -2.3)):
            Circle(F2_R)
        with Locations((4.6, -2.3)):
            Circle(F2_R)
        with Locations((6.9, -2.3)):
            Circle(F2_R)
        with Locations((6.9, -4.6)):
            Circle(F2_R)
        with Locations((4.6, -4.6)):
            Circle(F2_R)
        with Locations((2.3, -4.6)):
            Circle(F2_R)
        with Locations((0, -4.6)):
            Circle(F2_R)
        with Locations((0, -6.9)):
            Circle(F2_R)
        with Locations((2.3, -6.9)):
            Circle(F2_R)
        with Locations((4.6, -6.9)):
            Circle(F2_R)
        with Locations((6.9, -6.9)):
            Circle(F2_R)
    extrude(amount=-F3_DEPTH)


solid = f1.part
